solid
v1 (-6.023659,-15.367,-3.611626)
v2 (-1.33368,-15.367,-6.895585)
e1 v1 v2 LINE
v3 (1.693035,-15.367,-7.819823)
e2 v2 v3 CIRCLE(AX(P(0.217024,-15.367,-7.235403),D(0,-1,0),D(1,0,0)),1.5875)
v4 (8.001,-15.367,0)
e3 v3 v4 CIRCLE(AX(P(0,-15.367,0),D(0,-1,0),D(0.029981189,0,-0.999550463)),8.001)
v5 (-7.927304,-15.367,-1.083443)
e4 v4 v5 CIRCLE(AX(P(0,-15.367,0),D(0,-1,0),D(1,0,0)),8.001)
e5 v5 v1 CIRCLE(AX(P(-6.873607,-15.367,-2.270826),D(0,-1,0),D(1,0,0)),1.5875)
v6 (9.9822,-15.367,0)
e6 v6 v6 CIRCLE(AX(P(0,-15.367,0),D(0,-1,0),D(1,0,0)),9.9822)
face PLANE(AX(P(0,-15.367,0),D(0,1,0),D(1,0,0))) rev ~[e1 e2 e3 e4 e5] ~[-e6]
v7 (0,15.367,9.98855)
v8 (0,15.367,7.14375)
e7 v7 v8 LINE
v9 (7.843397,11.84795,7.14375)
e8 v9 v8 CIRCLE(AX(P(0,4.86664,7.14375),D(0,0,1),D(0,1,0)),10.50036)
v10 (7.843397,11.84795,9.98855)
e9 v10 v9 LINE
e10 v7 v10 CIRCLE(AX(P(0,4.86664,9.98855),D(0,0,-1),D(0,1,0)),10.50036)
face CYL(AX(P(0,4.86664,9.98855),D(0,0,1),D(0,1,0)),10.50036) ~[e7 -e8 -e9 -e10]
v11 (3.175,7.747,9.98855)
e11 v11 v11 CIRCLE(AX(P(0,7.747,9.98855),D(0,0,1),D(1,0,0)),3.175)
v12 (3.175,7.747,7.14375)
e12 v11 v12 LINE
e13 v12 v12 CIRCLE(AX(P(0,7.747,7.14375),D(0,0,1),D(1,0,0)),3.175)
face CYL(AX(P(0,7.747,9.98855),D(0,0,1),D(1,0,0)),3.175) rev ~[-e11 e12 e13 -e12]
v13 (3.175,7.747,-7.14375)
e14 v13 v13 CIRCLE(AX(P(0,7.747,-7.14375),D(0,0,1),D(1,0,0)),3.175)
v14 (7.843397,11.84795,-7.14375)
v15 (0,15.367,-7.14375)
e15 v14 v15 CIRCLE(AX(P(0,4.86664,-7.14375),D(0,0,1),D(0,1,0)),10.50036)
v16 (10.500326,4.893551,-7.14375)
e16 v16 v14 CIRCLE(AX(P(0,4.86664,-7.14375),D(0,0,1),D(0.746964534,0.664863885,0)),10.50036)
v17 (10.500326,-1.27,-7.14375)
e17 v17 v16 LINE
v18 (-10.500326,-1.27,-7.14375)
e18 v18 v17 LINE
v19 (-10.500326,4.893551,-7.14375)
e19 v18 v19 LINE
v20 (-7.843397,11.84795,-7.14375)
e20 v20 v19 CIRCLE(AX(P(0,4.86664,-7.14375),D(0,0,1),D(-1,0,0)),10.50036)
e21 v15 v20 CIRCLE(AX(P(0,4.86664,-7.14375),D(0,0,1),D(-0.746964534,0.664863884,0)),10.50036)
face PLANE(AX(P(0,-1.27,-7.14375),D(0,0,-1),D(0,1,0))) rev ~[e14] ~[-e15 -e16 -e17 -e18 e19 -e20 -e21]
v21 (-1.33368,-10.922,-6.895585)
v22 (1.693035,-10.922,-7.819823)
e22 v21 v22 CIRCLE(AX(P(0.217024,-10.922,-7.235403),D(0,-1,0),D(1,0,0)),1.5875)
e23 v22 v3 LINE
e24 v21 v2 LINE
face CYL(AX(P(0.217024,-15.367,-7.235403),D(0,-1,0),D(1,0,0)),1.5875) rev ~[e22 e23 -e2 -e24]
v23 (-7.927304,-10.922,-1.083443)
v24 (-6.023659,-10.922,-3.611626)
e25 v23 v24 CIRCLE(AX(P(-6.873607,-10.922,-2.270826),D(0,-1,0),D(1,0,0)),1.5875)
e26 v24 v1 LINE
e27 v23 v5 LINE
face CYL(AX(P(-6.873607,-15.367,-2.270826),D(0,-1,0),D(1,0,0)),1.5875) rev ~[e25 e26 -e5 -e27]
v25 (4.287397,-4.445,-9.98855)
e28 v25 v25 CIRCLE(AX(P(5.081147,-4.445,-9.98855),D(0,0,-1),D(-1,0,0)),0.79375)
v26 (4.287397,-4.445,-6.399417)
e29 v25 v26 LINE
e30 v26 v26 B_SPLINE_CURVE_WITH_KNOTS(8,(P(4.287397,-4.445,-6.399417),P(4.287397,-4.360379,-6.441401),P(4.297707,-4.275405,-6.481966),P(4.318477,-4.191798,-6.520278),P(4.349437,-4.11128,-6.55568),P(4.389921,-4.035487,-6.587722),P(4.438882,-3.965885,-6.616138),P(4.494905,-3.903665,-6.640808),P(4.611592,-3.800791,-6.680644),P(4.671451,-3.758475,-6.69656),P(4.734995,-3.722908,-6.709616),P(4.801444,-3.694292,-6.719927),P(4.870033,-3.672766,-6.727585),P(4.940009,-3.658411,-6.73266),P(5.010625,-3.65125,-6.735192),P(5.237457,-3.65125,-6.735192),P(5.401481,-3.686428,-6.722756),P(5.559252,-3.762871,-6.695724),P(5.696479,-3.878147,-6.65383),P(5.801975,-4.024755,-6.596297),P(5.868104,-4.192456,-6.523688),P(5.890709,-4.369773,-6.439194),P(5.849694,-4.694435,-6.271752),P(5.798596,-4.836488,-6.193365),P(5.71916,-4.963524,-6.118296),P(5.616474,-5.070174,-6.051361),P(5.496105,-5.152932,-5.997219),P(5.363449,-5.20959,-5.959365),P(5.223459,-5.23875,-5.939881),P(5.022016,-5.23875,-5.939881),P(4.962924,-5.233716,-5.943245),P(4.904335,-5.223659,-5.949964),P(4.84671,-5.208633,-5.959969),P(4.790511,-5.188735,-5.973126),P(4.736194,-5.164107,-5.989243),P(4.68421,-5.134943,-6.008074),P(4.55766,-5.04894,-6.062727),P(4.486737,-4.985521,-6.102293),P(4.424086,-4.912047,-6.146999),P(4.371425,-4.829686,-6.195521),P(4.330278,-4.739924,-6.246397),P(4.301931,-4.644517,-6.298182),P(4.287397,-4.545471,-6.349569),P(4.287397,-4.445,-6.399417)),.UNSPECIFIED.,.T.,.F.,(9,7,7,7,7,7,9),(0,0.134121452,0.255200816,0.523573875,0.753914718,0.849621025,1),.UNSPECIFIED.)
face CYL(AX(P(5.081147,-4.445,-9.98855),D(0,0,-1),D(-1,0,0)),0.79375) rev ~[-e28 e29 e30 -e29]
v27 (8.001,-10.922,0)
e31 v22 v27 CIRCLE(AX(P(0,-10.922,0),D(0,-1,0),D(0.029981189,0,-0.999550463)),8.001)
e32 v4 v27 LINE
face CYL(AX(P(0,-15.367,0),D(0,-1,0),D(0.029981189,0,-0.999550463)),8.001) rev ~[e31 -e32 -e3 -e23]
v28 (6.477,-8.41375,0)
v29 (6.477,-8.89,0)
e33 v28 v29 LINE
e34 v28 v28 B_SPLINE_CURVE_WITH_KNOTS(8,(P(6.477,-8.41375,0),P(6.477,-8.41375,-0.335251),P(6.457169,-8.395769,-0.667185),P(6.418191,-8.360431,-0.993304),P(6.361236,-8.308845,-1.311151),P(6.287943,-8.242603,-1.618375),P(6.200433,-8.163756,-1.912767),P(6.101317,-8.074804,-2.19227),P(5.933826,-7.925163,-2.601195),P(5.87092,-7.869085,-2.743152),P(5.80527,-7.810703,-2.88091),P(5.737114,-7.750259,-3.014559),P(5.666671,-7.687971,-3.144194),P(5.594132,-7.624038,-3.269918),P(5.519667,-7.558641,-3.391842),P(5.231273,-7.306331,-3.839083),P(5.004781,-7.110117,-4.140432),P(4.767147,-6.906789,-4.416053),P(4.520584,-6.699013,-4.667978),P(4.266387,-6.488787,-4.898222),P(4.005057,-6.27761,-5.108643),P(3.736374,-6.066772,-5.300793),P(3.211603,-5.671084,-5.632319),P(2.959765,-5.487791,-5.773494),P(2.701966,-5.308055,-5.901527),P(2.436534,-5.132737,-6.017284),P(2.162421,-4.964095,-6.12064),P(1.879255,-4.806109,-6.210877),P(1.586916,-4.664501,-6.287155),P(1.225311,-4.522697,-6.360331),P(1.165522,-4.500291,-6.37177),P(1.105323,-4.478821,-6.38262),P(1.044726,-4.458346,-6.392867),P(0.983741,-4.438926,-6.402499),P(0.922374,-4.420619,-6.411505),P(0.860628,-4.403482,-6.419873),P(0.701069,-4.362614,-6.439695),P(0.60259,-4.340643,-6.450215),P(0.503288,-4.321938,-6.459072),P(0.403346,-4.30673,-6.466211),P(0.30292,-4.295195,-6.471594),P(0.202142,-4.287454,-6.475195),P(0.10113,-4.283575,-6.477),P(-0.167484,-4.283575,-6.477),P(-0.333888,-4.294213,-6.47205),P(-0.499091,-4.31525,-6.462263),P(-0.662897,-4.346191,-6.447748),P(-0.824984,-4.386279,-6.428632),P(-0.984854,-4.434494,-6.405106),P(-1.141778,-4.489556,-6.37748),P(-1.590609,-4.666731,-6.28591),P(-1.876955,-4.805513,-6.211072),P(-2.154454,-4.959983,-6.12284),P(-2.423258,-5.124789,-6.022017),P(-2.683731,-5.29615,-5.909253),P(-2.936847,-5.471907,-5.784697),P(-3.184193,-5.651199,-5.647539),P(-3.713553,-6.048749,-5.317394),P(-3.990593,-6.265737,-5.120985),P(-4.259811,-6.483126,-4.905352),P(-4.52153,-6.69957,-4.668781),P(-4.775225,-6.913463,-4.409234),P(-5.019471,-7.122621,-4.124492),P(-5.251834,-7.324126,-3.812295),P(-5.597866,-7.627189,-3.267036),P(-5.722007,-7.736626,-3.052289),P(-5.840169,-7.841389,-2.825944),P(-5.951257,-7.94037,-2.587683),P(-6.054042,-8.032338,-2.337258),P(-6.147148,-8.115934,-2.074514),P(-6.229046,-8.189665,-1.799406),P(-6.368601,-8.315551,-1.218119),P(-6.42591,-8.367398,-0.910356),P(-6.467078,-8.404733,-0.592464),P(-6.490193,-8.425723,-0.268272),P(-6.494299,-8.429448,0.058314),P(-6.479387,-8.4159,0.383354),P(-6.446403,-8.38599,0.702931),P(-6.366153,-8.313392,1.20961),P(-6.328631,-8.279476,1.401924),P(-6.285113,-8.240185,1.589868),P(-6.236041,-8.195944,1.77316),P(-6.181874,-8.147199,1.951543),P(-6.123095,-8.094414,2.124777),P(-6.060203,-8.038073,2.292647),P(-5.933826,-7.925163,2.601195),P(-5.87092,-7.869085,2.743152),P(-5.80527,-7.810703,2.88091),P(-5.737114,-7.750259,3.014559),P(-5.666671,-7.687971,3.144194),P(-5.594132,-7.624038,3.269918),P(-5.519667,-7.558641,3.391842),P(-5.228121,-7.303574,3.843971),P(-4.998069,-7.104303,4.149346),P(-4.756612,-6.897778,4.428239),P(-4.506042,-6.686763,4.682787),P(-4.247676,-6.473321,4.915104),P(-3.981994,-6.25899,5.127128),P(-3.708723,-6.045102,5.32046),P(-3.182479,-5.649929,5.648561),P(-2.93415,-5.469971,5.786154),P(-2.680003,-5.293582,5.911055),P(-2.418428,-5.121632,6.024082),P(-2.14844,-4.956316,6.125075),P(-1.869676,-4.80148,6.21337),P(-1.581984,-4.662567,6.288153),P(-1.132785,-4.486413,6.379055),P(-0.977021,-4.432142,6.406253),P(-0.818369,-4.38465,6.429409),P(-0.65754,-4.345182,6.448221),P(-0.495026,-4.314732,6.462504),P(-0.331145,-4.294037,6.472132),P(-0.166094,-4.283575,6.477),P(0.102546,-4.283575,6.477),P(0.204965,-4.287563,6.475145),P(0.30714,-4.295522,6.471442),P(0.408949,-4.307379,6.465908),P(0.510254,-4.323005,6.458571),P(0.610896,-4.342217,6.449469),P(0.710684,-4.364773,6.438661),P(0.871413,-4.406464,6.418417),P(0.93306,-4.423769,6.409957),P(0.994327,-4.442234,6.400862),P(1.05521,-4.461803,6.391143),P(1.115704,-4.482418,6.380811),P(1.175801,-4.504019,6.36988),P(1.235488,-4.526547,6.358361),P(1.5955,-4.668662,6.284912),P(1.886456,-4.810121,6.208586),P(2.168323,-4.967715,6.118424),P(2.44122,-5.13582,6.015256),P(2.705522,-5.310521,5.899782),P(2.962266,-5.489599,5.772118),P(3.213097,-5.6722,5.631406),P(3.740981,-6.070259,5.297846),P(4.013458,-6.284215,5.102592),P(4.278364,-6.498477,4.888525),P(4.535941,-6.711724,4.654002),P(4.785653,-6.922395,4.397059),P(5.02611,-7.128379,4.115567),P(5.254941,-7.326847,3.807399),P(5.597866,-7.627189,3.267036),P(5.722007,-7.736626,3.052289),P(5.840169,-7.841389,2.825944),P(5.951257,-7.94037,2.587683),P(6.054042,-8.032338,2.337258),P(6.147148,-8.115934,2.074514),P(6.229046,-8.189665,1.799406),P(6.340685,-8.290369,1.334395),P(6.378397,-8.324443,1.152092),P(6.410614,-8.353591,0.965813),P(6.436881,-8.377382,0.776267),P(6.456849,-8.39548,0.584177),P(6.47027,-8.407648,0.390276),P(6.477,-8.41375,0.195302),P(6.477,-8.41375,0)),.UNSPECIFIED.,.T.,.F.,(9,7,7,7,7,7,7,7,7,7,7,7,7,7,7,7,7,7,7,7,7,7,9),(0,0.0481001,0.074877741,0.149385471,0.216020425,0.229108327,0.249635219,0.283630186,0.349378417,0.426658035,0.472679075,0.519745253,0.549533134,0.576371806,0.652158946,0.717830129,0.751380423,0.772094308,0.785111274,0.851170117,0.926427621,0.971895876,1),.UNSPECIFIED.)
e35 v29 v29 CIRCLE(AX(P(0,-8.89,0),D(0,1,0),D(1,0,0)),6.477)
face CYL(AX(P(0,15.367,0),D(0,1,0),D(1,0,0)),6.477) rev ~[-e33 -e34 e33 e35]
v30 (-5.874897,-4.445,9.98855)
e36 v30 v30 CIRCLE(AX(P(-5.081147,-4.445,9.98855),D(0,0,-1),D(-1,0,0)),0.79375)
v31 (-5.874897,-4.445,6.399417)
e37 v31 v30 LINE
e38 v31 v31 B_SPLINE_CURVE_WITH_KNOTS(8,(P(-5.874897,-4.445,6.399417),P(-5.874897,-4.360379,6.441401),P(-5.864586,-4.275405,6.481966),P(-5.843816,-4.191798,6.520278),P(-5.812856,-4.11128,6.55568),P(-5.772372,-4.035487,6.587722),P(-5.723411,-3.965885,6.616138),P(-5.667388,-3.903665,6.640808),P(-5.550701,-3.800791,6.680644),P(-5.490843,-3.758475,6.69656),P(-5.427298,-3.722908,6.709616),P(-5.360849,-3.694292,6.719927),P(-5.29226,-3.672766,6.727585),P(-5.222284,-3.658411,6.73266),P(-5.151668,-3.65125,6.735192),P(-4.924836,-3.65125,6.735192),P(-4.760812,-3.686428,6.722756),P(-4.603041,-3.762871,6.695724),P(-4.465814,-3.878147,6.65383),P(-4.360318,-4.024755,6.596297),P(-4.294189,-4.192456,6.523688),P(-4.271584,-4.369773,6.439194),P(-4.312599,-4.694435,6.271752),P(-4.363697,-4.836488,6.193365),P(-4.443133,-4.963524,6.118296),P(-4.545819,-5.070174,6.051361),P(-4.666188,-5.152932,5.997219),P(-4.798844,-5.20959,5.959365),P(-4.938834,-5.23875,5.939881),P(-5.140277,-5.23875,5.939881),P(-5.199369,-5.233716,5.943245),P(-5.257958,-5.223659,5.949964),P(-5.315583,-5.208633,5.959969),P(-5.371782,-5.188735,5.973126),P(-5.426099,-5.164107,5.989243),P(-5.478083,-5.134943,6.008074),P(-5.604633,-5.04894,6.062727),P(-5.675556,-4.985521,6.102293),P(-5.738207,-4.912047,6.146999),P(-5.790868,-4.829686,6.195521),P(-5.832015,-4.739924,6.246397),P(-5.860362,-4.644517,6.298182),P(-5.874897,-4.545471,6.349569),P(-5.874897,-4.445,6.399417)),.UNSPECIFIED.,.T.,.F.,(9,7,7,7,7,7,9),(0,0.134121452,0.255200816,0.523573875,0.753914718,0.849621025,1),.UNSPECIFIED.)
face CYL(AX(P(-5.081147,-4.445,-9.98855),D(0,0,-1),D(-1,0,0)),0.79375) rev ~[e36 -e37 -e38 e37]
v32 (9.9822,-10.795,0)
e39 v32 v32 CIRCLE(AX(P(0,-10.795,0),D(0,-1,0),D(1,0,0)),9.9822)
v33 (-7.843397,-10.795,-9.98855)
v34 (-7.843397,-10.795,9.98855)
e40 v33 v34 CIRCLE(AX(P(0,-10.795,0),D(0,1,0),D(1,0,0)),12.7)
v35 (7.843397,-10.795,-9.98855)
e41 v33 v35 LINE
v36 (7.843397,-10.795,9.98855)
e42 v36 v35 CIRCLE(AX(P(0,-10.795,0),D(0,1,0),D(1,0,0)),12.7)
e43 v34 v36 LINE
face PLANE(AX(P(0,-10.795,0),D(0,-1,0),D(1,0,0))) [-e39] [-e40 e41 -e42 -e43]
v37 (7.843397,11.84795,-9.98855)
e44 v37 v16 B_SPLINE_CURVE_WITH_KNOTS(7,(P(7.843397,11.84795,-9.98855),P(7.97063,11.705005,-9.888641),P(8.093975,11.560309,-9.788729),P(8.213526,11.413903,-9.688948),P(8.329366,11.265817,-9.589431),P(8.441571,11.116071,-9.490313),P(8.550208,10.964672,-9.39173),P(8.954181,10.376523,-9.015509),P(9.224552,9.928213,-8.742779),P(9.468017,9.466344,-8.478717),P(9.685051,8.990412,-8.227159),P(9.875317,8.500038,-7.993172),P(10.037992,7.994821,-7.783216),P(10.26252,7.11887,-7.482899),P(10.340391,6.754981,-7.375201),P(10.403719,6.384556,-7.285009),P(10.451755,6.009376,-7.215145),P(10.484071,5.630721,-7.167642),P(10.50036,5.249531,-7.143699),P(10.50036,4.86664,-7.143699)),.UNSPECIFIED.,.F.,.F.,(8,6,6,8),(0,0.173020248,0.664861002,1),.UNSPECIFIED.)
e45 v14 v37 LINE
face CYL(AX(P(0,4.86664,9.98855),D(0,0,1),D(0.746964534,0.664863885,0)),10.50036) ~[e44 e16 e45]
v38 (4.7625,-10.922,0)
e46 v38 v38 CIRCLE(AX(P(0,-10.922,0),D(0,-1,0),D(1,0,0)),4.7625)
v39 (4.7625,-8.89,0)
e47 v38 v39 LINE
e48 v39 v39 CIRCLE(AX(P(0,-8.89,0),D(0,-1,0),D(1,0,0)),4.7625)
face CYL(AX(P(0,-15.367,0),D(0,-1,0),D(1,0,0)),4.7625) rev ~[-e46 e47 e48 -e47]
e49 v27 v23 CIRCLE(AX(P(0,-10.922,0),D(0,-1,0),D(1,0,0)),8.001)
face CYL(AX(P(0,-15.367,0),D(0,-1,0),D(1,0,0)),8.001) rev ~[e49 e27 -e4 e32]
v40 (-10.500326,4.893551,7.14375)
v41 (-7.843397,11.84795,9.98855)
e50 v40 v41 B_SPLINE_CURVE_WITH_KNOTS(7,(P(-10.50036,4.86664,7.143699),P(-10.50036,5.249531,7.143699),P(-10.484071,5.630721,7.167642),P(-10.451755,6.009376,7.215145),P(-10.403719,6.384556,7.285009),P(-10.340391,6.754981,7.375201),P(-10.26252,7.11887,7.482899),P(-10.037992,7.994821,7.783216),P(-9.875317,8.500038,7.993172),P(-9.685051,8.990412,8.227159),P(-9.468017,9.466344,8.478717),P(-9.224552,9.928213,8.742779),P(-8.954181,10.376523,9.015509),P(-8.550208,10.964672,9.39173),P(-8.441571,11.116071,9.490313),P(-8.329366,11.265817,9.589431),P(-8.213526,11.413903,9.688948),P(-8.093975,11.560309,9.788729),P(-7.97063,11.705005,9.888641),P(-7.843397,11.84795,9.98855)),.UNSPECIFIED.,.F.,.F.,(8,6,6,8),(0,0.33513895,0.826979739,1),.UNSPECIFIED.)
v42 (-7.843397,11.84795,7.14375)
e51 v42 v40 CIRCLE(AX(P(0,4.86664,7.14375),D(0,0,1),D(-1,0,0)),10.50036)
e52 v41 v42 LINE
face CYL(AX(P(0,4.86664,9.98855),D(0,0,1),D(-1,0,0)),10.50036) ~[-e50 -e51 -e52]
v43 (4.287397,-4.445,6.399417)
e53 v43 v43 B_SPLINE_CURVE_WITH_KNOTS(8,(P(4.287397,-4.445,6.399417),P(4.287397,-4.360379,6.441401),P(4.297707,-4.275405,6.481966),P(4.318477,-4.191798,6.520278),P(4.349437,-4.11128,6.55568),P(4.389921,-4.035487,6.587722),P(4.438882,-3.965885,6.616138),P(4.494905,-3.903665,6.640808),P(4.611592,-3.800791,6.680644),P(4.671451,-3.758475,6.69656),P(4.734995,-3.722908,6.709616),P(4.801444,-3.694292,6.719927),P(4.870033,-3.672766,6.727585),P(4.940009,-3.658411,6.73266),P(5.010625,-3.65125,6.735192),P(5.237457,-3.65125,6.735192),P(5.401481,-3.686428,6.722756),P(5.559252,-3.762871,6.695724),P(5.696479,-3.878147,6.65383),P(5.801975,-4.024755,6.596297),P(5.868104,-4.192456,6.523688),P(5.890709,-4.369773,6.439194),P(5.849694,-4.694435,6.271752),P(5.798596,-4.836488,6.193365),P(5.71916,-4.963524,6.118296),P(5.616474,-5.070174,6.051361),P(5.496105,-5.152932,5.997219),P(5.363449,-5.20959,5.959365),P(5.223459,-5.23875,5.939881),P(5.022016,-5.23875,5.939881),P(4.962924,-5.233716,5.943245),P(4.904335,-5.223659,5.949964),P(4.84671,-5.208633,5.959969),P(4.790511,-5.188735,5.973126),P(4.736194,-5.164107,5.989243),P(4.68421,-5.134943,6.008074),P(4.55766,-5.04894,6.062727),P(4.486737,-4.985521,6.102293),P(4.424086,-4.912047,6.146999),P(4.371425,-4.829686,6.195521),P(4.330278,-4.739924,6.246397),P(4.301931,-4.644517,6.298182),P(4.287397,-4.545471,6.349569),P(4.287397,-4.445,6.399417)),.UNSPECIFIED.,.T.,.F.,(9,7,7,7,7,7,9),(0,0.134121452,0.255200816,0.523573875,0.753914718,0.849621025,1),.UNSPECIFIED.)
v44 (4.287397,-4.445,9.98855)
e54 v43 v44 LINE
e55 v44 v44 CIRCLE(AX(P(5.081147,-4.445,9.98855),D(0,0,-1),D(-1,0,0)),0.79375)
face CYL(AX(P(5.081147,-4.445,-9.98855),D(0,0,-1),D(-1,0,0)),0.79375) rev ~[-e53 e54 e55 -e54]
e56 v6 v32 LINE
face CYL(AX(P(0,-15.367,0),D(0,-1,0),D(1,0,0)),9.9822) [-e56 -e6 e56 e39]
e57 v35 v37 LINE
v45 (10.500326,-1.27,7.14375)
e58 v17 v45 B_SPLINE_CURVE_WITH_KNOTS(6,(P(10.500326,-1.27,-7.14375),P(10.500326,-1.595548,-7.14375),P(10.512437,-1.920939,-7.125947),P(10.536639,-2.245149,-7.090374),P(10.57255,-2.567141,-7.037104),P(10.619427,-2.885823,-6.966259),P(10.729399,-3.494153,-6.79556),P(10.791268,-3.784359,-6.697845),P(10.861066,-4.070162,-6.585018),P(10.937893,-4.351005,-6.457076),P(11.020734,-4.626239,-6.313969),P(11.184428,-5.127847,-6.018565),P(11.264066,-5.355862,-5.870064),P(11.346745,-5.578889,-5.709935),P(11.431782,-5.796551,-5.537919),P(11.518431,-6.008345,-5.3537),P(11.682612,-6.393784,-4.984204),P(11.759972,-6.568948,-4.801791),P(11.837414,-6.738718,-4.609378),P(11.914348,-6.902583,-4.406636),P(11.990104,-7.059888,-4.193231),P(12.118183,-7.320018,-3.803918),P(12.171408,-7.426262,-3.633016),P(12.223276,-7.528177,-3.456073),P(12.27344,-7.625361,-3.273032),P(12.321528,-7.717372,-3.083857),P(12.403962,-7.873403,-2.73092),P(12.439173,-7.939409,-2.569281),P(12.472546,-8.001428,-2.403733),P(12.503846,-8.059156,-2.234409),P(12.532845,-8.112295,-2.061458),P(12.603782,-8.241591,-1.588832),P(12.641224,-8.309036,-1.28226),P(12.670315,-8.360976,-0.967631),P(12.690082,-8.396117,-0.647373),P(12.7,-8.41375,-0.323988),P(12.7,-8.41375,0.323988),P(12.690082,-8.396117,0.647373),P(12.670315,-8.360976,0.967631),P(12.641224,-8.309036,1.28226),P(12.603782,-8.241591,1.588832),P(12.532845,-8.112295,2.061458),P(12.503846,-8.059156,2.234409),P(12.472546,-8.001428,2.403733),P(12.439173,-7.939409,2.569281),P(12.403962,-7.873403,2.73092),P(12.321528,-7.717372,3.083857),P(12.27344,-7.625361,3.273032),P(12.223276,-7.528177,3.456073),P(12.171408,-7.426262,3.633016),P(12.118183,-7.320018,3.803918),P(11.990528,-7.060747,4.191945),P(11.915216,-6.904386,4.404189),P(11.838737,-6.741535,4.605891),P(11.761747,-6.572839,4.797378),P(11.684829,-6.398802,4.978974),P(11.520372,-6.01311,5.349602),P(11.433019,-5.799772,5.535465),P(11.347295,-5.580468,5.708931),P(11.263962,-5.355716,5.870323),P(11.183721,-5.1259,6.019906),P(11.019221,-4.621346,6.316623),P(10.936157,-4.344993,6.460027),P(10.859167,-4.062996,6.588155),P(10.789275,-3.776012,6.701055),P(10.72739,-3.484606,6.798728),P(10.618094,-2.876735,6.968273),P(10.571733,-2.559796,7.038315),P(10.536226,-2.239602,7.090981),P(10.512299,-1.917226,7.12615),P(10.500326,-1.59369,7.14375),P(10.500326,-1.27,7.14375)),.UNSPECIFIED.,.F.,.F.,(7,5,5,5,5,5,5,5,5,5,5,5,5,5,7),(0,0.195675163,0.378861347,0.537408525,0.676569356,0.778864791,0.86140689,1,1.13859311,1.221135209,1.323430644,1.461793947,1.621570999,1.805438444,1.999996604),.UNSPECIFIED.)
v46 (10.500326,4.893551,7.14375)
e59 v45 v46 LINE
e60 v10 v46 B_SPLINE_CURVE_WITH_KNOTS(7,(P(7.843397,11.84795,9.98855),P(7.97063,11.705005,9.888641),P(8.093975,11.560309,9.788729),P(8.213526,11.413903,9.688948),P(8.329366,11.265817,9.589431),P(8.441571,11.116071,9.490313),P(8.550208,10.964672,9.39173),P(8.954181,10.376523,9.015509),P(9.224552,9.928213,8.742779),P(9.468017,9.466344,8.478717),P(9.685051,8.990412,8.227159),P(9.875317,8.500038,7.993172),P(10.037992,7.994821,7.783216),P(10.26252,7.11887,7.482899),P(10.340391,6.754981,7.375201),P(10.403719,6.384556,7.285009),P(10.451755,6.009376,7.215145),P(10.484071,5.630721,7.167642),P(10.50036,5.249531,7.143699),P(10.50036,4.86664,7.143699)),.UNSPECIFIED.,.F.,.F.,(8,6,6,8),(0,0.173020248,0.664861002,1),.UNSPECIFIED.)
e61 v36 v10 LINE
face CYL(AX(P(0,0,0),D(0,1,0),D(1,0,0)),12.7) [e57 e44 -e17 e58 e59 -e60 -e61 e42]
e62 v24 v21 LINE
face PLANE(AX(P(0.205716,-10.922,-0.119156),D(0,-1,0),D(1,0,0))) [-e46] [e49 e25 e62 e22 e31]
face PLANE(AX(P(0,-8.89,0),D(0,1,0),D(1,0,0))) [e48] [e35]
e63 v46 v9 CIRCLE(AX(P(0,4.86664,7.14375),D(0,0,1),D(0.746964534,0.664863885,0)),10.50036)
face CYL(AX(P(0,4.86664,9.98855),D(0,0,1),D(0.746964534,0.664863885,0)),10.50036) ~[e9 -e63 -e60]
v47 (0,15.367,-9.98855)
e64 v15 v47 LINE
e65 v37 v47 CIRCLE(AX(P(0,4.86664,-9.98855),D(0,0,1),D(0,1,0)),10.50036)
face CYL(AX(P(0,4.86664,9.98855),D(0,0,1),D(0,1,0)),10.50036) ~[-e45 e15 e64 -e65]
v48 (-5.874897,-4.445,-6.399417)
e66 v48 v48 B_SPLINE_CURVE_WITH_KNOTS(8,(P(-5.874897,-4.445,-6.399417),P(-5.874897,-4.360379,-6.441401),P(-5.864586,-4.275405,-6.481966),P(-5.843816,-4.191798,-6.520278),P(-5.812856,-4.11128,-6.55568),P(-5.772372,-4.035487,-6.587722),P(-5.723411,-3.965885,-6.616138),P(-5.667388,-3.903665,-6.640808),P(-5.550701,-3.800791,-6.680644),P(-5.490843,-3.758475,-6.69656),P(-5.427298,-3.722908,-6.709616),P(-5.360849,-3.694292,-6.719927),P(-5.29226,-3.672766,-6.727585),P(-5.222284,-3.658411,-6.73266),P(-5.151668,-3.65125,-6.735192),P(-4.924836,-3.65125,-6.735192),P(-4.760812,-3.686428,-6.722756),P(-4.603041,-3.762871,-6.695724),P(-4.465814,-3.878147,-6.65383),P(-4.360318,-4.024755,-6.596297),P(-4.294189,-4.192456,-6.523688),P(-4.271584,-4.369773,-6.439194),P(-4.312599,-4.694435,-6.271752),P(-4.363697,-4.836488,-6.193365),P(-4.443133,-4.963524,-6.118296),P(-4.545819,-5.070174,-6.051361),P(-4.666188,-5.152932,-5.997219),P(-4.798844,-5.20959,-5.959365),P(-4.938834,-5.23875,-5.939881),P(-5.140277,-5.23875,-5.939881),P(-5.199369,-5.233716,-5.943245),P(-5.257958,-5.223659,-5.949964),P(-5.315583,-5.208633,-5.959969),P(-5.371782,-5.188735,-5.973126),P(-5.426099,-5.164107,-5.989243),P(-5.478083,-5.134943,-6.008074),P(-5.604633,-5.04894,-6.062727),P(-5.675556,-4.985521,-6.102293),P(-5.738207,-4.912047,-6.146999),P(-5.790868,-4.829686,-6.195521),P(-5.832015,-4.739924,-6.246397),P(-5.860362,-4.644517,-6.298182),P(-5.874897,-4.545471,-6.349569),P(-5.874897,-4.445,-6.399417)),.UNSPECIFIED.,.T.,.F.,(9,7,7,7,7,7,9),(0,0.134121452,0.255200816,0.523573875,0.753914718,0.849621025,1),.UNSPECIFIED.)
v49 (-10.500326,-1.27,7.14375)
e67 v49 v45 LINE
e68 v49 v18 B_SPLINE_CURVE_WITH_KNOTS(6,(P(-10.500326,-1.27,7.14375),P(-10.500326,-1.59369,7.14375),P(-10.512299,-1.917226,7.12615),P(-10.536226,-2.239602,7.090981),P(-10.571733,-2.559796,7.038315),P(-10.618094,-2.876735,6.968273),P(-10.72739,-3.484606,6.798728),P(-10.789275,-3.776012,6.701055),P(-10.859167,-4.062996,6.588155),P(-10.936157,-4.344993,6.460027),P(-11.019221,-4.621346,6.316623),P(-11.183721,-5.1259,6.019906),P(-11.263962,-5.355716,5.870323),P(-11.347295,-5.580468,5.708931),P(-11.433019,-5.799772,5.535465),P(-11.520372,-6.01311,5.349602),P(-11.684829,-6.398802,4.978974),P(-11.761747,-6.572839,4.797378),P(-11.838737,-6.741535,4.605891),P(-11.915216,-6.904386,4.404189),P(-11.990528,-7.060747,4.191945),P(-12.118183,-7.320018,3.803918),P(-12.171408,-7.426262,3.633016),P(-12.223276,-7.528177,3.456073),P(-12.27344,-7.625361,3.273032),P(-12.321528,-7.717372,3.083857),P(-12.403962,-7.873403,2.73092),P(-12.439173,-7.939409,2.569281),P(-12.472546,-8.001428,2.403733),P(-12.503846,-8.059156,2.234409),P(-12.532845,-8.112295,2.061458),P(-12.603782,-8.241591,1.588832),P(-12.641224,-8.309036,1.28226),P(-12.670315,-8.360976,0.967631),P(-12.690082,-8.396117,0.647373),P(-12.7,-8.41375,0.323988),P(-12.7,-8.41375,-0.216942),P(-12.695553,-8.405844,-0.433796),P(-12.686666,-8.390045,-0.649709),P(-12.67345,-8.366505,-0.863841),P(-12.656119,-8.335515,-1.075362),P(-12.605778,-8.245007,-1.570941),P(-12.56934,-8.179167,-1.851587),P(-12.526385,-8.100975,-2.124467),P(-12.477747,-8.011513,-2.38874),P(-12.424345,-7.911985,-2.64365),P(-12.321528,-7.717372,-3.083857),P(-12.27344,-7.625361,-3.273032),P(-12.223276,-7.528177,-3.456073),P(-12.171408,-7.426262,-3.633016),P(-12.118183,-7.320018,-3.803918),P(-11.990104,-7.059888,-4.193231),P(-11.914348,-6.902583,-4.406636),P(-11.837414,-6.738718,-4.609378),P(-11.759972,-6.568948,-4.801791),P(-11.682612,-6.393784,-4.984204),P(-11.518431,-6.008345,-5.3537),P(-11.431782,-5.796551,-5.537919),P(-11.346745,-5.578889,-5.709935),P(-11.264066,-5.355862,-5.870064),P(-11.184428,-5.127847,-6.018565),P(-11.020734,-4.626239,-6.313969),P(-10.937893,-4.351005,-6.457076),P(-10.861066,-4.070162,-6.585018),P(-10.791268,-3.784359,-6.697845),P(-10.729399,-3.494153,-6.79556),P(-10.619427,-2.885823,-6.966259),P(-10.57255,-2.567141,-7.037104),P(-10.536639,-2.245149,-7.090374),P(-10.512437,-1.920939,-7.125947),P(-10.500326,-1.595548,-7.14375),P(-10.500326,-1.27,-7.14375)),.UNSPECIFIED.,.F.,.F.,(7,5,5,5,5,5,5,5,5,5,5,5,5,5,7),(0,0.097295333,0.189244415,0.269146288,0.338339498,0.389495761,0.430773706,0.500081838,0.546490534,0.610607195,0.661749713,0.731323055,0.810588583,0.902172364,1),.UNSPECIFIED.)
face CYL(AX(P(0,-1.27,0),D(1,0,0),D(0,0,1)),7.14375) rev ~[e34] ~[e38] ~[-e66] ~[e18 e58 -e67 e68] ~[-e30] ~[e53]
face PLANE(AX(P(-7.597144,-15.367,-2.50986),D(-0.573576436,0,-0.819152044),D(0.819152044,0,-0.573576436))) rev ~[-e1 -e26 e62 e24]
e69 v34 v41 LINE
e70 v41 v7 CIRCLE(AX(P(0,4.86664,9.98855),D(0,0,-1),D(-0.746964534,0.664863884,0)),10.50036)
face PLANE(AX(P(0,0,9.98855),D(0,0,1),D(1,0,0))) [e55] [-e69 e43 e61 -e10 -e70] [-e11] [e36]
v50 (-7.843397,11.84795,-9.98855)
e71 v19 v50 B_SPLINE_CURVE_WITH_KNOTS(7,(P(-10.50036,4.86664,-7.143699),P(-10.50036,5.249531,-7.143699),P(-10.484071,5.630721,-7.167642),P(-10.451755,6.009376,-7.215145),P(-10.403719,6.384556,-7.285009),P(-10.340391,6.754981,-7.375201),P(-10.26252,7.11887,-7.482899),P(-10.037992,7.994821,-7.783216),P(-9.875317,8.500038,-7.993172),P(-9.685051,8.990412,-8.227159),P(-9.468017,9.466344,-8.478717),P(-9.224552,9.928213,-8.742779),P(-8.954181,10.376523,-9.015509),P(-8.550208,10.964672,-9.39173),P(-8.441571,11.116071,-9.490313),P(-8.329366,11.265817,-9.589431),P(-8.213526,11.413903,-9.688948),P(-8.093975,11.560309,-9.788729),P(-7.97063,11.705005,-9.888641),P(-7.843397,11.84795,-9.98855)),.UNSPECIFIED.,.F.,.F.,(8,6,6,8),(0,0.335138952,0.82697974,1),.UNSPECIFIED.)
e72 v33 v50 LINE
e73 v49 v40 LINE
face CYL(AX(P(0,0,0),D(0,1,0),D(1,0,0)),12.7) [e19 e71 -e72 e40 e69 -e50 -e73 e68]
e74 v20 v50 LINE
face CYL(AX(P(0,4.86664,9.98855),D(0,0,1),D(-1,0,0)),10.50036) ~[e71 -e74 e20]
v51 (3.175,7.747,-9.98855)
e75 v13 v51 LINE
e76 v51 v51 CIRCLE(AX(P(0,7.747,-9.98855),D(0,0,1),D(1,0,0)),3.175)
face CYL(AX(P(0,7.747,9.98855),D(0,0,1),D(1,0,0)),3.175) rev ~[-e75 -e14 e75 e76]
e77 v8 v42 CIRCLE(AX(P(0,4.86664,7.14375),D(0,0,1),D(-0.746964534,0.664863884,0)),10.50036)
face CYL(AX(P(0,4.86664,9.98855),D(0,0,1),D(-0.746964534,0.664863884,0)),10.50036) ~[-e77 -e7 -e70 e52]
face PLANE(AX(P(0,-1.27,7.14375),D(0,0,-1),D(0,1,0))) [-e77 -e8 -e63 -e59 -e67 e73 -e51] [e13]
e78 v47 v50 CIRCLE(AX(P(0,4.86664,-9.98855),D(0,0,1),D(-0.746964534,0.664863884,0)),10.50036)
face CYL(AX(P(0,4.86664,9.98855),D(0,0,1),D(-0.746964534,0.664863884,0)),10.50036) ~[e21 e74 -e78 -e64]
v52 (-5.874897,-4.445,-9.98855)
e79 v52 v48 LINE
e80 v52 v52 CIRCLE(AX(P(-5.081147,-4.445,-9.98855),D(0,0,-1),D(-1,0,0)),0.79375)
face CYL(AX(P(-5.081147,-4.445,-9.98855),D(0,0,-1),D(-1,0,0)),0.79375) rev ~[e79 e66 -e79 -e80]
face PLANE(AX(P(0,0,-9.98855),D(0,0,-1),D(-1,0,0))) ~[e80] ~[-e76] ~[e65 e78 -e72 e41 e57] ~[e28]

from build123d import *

# Parameters (mm, degrees)
SKETCH1_R                = 12.7
BOSS_EXTRUDE1_DEPTH      = 15.367
BOSS_EXTRUDE1_DEPTH_BACK = 15.367
SKETCH4_W                = 25.4
SKETCH4_H                = 30.734
CUT_EXTRUDE2_DEPTH       = 3.71145
SKETCH5_W                = 14.2875
SKETCH5_H                = 16.637
CUT_EXTRUDE3_DEPTH       = 13.7
CUT_EXTRUDE3_DEPTH_BACK  = 13.7
CUT_EXTRUDE4_DEPTH       = 20.9771001
SKETCH7_R                = 4.7625
CUT_EXTRUDE5_DEPTH       = 31.7340001
SKETCH9_R                = 17.852773039
SKETCH9_R_2              = 9.9822
CUT_EXTRUDE6_DEPTH       = 4.572
SKETCH10_R               = 6.477
CUT_EXTRUDE7_DEPTH       = 24.257
SKETCH11_R               = 3.175
CUT_EXTRUDE8_DEPTH       = 20.9771001
SKETCH12_R               = 0.79375
CUT_EXTRUDE9_DEPTH       = 1.0000001
CUT_EXTRUDE9_DEPTH_BACK  = 20.9771001
SKETCH15_R               = 4.7625
CUT_EXTRUDE12_DEPTH      = 4.445
SKETCH16_R               = 1.5875
CUT_EXTRUDE13_DEPTH      = 4.445


with BuildPart() as part:
    # Sketch1 → Boss-Extrude1 (new body, two sides)
    with BuildSketch(Plane(origin=(0, 0, 0), x_dir=(1, 0, 0), z_dir=(0, 1, 0))) as boss_extrude1_sk:
        Circle(SKETCH1_R)
    extrude(amount=BOSS_EXTRUDE1_DEPTH)
    extrude(boss_extrude1_sk.sketch, amount=-BOSS_EXTRUDE1_DEPTH_BACK)

    # Sketch4 → Cut-Extrude2 (cut, through all)
    with BuildSketch(Plane.XY.offset(9.98855)):
        Rectangle(SKETCH4_W, SKETCH4_H)
    cut_extrude2 = extrude(amount=CUT_EXTRUDE2_DEPTH, mode=Mode.SUBTRACT)

    # Mirror2: Cut-Extrude2 across plane
    add(cut_extrude2.mirror(Plane.XY), mode=Mode.SUBTRACT)

    # Sketch5 → Cut-Extrude3 (cut, two sides)
    with BuildSketch(Plane(origin=(0, 0, 0), x_dir=(0, 0, -1), z_dir=(1, 0, 0))) as cut_extrude3_sk:
        with Locations((0, 7.0485)):
            Rectangle(SKETCH5_W, SKETCH5_H)
        with BuildLine():
            Line((7.14375, -1.27), (-7.14375, -1.27))
            ThreePointArc((-7.14375, -1.27), (0, -8.41375), (7.14375, -1.27))
        make_face()
    extrude(amount=CUT_EXTRUDE3_DEPTH, mode=Mode.SUBTRACT)
    extrude(cut_extrude3_sk.sketch, amount=-CUT_EXTRUDE3_DEPTH_BACK, mode=Mode.SUBTRACT)

    # Sketch6 → Cut-Extrude4 (cut, through all)
    with BuildSketch(Plane.XY.offset(9.98855)):
        with BuildLine():
            ThreePointArc((7.843396515, 11.847950137), (9.813665145, 8.601547837), (10.50036, 4.86664))
            Line((10.50036, 4.86664), (14.849727138, 4.86664))
            ThreePointArc((14.849727138, 4.86664), (0, 19.716367138), (-14.849727138, 4.86664))
            Line((-14.849727138, 4.86664), (-10.50036, 4.86664))
            ThreePointArc((-10.50036, 4.86664), (-9.813665145, 8.601547837), (-7.843396515, 11.847950137))
            Line((-7.843396515, 11.847950137), (-7.843396515, 15.367))
            Line((-7.843396515, 15.367), (0, 15.367))
            Line((0, 15.367), (7.843396515, 15.367))
            Line((7.843396515, 15.367), (7.843396515, 11.847950137))
        make_face()
        with BuildLine():
            ThreePointArc((-7.843396515, 11.847950137), (-4.298330514, 14.446927831), (0, 15.367))
            Line((0, 15.367), (-7.843396515, 15.367))
            Line((-7.843396515, 15.367), (-7.843396515, 11.847950137))
        make_face()
        with BuildLine():
            ThreePointArc((0, 15.367), (4.298330514, 14.446927831), (7.843396515, 11.847950137))
            Line((7.843396515, 11.847950137), (7.843396515, 15.367))
            Line((7.843396515, 15.367), (0, 15.367))
        make_face()
    extrude(amount=-CUT_EXTRUDE4_DEPTH, mode=Mode.SUBTRACT)

    # Sketch7 → Cut-Extrude5 (cut, through all)
    with BuildSketch(Plane.XZ.offset(15.367)):
        Circle(SKETCH7_R)
    extrude(amount=-CUT_EXTRUDE5_DEPTH, mode=Mode.SUBTRACT)

    # Sketch9 → Cut-Extrude6 (cut)
    with BuildSketch(Plane.XZ.offset(15.367)):
        Circle(SKETCH9_R)
        Circle(SKETCH9_R_2, mode=Mode.SUBTRACT)
    extrude(amount=-CUT_EXTRUDE6_DEPTH, mode=Mode.SUBTRACT)

    # Sketch10 → Cut-Extrude7 (cut)
    with BuildSketch(Plane(origin=(0, 15.367, 0), x_dir=(1, 0, 0), z_dir=(0, 1, 0))):
        Circle(SKETCH10_R)
    extrude(amount=-CUT_EXTRUDE7_DEPTH, mode=Mode.SUBTRACT)

    # Sketch11 → Cut-Extrude8 (cut, through all)
    with BuildSketch(Plane.XY.offset(9.98855)):
        with Locations((0, 7.747)):
            Circle(SKETCH11_R)
    extrude(amount=-CUT_EXTRUDE8_DEPTH, mode=Mode.SUBTRACT)

    # Sketch12 → Cut-Extrude9 (cut, two sides)
    with BuildSketch(Plane(origin=(0, 0, -9.98855), x_dir=(-1, 0, 0), z_dir=(0, 0, -1))) as cut_extrude9_sk:
        with Locations((5.081146515, -4.445)):
            Circle(SKETCH12_R)
        with Locations((-5.081146515, -4.445)):
            Circle(SKETCH12_R)
    extrude(amount=CUT_EXTRUDE9_DEPTH, mode=Mode.SUBTRACT)
    extrude(cut_extrude9_sk.sketch, amount=-CUT_EXTRUDE9_DEPTH_BACK, mode=Mode.SUBTRACT)

    # Sketch15 → Cut-Extrude12 (cut)
    with BuildSketch(Plane.XZ.offset(15.367)):
        with BuildLine():
            ThreePointArc((8.001, 0), (-1.271072049, 7.899390916), (-7.597144444, -2.509860017))
            Line((-7.597144444, -2.509860017), (0.239879494, -7.997403255))
            ThreePointArc((0.239879494, -7.997403255), (5.741745241, -5.572105758), (8.001, 0))
        make_face()
        Circle(SKETCH15_R, mode=Mode.SUBTRACT)
    extrude(amount=-CUT_EXTRUDE12_DEPTH, mode=Mode.SUBTRACT)

    # Sketch16 → Cut-Extrude13 (cut)
    with BuildSketch(Plane.XZ.offset(15.367)):
        with Locations((-6.873606877, -2.270825729)):
            Circle(SKETCH16_R)
        with Locations((0.217023554, -7.235403255)):
            Circle(SKETCH16_R)
    extrude(amount=-CUT_EXTRUDE13_DEPTH, mode=Mode.SUBTRACT)


solid = part.part
